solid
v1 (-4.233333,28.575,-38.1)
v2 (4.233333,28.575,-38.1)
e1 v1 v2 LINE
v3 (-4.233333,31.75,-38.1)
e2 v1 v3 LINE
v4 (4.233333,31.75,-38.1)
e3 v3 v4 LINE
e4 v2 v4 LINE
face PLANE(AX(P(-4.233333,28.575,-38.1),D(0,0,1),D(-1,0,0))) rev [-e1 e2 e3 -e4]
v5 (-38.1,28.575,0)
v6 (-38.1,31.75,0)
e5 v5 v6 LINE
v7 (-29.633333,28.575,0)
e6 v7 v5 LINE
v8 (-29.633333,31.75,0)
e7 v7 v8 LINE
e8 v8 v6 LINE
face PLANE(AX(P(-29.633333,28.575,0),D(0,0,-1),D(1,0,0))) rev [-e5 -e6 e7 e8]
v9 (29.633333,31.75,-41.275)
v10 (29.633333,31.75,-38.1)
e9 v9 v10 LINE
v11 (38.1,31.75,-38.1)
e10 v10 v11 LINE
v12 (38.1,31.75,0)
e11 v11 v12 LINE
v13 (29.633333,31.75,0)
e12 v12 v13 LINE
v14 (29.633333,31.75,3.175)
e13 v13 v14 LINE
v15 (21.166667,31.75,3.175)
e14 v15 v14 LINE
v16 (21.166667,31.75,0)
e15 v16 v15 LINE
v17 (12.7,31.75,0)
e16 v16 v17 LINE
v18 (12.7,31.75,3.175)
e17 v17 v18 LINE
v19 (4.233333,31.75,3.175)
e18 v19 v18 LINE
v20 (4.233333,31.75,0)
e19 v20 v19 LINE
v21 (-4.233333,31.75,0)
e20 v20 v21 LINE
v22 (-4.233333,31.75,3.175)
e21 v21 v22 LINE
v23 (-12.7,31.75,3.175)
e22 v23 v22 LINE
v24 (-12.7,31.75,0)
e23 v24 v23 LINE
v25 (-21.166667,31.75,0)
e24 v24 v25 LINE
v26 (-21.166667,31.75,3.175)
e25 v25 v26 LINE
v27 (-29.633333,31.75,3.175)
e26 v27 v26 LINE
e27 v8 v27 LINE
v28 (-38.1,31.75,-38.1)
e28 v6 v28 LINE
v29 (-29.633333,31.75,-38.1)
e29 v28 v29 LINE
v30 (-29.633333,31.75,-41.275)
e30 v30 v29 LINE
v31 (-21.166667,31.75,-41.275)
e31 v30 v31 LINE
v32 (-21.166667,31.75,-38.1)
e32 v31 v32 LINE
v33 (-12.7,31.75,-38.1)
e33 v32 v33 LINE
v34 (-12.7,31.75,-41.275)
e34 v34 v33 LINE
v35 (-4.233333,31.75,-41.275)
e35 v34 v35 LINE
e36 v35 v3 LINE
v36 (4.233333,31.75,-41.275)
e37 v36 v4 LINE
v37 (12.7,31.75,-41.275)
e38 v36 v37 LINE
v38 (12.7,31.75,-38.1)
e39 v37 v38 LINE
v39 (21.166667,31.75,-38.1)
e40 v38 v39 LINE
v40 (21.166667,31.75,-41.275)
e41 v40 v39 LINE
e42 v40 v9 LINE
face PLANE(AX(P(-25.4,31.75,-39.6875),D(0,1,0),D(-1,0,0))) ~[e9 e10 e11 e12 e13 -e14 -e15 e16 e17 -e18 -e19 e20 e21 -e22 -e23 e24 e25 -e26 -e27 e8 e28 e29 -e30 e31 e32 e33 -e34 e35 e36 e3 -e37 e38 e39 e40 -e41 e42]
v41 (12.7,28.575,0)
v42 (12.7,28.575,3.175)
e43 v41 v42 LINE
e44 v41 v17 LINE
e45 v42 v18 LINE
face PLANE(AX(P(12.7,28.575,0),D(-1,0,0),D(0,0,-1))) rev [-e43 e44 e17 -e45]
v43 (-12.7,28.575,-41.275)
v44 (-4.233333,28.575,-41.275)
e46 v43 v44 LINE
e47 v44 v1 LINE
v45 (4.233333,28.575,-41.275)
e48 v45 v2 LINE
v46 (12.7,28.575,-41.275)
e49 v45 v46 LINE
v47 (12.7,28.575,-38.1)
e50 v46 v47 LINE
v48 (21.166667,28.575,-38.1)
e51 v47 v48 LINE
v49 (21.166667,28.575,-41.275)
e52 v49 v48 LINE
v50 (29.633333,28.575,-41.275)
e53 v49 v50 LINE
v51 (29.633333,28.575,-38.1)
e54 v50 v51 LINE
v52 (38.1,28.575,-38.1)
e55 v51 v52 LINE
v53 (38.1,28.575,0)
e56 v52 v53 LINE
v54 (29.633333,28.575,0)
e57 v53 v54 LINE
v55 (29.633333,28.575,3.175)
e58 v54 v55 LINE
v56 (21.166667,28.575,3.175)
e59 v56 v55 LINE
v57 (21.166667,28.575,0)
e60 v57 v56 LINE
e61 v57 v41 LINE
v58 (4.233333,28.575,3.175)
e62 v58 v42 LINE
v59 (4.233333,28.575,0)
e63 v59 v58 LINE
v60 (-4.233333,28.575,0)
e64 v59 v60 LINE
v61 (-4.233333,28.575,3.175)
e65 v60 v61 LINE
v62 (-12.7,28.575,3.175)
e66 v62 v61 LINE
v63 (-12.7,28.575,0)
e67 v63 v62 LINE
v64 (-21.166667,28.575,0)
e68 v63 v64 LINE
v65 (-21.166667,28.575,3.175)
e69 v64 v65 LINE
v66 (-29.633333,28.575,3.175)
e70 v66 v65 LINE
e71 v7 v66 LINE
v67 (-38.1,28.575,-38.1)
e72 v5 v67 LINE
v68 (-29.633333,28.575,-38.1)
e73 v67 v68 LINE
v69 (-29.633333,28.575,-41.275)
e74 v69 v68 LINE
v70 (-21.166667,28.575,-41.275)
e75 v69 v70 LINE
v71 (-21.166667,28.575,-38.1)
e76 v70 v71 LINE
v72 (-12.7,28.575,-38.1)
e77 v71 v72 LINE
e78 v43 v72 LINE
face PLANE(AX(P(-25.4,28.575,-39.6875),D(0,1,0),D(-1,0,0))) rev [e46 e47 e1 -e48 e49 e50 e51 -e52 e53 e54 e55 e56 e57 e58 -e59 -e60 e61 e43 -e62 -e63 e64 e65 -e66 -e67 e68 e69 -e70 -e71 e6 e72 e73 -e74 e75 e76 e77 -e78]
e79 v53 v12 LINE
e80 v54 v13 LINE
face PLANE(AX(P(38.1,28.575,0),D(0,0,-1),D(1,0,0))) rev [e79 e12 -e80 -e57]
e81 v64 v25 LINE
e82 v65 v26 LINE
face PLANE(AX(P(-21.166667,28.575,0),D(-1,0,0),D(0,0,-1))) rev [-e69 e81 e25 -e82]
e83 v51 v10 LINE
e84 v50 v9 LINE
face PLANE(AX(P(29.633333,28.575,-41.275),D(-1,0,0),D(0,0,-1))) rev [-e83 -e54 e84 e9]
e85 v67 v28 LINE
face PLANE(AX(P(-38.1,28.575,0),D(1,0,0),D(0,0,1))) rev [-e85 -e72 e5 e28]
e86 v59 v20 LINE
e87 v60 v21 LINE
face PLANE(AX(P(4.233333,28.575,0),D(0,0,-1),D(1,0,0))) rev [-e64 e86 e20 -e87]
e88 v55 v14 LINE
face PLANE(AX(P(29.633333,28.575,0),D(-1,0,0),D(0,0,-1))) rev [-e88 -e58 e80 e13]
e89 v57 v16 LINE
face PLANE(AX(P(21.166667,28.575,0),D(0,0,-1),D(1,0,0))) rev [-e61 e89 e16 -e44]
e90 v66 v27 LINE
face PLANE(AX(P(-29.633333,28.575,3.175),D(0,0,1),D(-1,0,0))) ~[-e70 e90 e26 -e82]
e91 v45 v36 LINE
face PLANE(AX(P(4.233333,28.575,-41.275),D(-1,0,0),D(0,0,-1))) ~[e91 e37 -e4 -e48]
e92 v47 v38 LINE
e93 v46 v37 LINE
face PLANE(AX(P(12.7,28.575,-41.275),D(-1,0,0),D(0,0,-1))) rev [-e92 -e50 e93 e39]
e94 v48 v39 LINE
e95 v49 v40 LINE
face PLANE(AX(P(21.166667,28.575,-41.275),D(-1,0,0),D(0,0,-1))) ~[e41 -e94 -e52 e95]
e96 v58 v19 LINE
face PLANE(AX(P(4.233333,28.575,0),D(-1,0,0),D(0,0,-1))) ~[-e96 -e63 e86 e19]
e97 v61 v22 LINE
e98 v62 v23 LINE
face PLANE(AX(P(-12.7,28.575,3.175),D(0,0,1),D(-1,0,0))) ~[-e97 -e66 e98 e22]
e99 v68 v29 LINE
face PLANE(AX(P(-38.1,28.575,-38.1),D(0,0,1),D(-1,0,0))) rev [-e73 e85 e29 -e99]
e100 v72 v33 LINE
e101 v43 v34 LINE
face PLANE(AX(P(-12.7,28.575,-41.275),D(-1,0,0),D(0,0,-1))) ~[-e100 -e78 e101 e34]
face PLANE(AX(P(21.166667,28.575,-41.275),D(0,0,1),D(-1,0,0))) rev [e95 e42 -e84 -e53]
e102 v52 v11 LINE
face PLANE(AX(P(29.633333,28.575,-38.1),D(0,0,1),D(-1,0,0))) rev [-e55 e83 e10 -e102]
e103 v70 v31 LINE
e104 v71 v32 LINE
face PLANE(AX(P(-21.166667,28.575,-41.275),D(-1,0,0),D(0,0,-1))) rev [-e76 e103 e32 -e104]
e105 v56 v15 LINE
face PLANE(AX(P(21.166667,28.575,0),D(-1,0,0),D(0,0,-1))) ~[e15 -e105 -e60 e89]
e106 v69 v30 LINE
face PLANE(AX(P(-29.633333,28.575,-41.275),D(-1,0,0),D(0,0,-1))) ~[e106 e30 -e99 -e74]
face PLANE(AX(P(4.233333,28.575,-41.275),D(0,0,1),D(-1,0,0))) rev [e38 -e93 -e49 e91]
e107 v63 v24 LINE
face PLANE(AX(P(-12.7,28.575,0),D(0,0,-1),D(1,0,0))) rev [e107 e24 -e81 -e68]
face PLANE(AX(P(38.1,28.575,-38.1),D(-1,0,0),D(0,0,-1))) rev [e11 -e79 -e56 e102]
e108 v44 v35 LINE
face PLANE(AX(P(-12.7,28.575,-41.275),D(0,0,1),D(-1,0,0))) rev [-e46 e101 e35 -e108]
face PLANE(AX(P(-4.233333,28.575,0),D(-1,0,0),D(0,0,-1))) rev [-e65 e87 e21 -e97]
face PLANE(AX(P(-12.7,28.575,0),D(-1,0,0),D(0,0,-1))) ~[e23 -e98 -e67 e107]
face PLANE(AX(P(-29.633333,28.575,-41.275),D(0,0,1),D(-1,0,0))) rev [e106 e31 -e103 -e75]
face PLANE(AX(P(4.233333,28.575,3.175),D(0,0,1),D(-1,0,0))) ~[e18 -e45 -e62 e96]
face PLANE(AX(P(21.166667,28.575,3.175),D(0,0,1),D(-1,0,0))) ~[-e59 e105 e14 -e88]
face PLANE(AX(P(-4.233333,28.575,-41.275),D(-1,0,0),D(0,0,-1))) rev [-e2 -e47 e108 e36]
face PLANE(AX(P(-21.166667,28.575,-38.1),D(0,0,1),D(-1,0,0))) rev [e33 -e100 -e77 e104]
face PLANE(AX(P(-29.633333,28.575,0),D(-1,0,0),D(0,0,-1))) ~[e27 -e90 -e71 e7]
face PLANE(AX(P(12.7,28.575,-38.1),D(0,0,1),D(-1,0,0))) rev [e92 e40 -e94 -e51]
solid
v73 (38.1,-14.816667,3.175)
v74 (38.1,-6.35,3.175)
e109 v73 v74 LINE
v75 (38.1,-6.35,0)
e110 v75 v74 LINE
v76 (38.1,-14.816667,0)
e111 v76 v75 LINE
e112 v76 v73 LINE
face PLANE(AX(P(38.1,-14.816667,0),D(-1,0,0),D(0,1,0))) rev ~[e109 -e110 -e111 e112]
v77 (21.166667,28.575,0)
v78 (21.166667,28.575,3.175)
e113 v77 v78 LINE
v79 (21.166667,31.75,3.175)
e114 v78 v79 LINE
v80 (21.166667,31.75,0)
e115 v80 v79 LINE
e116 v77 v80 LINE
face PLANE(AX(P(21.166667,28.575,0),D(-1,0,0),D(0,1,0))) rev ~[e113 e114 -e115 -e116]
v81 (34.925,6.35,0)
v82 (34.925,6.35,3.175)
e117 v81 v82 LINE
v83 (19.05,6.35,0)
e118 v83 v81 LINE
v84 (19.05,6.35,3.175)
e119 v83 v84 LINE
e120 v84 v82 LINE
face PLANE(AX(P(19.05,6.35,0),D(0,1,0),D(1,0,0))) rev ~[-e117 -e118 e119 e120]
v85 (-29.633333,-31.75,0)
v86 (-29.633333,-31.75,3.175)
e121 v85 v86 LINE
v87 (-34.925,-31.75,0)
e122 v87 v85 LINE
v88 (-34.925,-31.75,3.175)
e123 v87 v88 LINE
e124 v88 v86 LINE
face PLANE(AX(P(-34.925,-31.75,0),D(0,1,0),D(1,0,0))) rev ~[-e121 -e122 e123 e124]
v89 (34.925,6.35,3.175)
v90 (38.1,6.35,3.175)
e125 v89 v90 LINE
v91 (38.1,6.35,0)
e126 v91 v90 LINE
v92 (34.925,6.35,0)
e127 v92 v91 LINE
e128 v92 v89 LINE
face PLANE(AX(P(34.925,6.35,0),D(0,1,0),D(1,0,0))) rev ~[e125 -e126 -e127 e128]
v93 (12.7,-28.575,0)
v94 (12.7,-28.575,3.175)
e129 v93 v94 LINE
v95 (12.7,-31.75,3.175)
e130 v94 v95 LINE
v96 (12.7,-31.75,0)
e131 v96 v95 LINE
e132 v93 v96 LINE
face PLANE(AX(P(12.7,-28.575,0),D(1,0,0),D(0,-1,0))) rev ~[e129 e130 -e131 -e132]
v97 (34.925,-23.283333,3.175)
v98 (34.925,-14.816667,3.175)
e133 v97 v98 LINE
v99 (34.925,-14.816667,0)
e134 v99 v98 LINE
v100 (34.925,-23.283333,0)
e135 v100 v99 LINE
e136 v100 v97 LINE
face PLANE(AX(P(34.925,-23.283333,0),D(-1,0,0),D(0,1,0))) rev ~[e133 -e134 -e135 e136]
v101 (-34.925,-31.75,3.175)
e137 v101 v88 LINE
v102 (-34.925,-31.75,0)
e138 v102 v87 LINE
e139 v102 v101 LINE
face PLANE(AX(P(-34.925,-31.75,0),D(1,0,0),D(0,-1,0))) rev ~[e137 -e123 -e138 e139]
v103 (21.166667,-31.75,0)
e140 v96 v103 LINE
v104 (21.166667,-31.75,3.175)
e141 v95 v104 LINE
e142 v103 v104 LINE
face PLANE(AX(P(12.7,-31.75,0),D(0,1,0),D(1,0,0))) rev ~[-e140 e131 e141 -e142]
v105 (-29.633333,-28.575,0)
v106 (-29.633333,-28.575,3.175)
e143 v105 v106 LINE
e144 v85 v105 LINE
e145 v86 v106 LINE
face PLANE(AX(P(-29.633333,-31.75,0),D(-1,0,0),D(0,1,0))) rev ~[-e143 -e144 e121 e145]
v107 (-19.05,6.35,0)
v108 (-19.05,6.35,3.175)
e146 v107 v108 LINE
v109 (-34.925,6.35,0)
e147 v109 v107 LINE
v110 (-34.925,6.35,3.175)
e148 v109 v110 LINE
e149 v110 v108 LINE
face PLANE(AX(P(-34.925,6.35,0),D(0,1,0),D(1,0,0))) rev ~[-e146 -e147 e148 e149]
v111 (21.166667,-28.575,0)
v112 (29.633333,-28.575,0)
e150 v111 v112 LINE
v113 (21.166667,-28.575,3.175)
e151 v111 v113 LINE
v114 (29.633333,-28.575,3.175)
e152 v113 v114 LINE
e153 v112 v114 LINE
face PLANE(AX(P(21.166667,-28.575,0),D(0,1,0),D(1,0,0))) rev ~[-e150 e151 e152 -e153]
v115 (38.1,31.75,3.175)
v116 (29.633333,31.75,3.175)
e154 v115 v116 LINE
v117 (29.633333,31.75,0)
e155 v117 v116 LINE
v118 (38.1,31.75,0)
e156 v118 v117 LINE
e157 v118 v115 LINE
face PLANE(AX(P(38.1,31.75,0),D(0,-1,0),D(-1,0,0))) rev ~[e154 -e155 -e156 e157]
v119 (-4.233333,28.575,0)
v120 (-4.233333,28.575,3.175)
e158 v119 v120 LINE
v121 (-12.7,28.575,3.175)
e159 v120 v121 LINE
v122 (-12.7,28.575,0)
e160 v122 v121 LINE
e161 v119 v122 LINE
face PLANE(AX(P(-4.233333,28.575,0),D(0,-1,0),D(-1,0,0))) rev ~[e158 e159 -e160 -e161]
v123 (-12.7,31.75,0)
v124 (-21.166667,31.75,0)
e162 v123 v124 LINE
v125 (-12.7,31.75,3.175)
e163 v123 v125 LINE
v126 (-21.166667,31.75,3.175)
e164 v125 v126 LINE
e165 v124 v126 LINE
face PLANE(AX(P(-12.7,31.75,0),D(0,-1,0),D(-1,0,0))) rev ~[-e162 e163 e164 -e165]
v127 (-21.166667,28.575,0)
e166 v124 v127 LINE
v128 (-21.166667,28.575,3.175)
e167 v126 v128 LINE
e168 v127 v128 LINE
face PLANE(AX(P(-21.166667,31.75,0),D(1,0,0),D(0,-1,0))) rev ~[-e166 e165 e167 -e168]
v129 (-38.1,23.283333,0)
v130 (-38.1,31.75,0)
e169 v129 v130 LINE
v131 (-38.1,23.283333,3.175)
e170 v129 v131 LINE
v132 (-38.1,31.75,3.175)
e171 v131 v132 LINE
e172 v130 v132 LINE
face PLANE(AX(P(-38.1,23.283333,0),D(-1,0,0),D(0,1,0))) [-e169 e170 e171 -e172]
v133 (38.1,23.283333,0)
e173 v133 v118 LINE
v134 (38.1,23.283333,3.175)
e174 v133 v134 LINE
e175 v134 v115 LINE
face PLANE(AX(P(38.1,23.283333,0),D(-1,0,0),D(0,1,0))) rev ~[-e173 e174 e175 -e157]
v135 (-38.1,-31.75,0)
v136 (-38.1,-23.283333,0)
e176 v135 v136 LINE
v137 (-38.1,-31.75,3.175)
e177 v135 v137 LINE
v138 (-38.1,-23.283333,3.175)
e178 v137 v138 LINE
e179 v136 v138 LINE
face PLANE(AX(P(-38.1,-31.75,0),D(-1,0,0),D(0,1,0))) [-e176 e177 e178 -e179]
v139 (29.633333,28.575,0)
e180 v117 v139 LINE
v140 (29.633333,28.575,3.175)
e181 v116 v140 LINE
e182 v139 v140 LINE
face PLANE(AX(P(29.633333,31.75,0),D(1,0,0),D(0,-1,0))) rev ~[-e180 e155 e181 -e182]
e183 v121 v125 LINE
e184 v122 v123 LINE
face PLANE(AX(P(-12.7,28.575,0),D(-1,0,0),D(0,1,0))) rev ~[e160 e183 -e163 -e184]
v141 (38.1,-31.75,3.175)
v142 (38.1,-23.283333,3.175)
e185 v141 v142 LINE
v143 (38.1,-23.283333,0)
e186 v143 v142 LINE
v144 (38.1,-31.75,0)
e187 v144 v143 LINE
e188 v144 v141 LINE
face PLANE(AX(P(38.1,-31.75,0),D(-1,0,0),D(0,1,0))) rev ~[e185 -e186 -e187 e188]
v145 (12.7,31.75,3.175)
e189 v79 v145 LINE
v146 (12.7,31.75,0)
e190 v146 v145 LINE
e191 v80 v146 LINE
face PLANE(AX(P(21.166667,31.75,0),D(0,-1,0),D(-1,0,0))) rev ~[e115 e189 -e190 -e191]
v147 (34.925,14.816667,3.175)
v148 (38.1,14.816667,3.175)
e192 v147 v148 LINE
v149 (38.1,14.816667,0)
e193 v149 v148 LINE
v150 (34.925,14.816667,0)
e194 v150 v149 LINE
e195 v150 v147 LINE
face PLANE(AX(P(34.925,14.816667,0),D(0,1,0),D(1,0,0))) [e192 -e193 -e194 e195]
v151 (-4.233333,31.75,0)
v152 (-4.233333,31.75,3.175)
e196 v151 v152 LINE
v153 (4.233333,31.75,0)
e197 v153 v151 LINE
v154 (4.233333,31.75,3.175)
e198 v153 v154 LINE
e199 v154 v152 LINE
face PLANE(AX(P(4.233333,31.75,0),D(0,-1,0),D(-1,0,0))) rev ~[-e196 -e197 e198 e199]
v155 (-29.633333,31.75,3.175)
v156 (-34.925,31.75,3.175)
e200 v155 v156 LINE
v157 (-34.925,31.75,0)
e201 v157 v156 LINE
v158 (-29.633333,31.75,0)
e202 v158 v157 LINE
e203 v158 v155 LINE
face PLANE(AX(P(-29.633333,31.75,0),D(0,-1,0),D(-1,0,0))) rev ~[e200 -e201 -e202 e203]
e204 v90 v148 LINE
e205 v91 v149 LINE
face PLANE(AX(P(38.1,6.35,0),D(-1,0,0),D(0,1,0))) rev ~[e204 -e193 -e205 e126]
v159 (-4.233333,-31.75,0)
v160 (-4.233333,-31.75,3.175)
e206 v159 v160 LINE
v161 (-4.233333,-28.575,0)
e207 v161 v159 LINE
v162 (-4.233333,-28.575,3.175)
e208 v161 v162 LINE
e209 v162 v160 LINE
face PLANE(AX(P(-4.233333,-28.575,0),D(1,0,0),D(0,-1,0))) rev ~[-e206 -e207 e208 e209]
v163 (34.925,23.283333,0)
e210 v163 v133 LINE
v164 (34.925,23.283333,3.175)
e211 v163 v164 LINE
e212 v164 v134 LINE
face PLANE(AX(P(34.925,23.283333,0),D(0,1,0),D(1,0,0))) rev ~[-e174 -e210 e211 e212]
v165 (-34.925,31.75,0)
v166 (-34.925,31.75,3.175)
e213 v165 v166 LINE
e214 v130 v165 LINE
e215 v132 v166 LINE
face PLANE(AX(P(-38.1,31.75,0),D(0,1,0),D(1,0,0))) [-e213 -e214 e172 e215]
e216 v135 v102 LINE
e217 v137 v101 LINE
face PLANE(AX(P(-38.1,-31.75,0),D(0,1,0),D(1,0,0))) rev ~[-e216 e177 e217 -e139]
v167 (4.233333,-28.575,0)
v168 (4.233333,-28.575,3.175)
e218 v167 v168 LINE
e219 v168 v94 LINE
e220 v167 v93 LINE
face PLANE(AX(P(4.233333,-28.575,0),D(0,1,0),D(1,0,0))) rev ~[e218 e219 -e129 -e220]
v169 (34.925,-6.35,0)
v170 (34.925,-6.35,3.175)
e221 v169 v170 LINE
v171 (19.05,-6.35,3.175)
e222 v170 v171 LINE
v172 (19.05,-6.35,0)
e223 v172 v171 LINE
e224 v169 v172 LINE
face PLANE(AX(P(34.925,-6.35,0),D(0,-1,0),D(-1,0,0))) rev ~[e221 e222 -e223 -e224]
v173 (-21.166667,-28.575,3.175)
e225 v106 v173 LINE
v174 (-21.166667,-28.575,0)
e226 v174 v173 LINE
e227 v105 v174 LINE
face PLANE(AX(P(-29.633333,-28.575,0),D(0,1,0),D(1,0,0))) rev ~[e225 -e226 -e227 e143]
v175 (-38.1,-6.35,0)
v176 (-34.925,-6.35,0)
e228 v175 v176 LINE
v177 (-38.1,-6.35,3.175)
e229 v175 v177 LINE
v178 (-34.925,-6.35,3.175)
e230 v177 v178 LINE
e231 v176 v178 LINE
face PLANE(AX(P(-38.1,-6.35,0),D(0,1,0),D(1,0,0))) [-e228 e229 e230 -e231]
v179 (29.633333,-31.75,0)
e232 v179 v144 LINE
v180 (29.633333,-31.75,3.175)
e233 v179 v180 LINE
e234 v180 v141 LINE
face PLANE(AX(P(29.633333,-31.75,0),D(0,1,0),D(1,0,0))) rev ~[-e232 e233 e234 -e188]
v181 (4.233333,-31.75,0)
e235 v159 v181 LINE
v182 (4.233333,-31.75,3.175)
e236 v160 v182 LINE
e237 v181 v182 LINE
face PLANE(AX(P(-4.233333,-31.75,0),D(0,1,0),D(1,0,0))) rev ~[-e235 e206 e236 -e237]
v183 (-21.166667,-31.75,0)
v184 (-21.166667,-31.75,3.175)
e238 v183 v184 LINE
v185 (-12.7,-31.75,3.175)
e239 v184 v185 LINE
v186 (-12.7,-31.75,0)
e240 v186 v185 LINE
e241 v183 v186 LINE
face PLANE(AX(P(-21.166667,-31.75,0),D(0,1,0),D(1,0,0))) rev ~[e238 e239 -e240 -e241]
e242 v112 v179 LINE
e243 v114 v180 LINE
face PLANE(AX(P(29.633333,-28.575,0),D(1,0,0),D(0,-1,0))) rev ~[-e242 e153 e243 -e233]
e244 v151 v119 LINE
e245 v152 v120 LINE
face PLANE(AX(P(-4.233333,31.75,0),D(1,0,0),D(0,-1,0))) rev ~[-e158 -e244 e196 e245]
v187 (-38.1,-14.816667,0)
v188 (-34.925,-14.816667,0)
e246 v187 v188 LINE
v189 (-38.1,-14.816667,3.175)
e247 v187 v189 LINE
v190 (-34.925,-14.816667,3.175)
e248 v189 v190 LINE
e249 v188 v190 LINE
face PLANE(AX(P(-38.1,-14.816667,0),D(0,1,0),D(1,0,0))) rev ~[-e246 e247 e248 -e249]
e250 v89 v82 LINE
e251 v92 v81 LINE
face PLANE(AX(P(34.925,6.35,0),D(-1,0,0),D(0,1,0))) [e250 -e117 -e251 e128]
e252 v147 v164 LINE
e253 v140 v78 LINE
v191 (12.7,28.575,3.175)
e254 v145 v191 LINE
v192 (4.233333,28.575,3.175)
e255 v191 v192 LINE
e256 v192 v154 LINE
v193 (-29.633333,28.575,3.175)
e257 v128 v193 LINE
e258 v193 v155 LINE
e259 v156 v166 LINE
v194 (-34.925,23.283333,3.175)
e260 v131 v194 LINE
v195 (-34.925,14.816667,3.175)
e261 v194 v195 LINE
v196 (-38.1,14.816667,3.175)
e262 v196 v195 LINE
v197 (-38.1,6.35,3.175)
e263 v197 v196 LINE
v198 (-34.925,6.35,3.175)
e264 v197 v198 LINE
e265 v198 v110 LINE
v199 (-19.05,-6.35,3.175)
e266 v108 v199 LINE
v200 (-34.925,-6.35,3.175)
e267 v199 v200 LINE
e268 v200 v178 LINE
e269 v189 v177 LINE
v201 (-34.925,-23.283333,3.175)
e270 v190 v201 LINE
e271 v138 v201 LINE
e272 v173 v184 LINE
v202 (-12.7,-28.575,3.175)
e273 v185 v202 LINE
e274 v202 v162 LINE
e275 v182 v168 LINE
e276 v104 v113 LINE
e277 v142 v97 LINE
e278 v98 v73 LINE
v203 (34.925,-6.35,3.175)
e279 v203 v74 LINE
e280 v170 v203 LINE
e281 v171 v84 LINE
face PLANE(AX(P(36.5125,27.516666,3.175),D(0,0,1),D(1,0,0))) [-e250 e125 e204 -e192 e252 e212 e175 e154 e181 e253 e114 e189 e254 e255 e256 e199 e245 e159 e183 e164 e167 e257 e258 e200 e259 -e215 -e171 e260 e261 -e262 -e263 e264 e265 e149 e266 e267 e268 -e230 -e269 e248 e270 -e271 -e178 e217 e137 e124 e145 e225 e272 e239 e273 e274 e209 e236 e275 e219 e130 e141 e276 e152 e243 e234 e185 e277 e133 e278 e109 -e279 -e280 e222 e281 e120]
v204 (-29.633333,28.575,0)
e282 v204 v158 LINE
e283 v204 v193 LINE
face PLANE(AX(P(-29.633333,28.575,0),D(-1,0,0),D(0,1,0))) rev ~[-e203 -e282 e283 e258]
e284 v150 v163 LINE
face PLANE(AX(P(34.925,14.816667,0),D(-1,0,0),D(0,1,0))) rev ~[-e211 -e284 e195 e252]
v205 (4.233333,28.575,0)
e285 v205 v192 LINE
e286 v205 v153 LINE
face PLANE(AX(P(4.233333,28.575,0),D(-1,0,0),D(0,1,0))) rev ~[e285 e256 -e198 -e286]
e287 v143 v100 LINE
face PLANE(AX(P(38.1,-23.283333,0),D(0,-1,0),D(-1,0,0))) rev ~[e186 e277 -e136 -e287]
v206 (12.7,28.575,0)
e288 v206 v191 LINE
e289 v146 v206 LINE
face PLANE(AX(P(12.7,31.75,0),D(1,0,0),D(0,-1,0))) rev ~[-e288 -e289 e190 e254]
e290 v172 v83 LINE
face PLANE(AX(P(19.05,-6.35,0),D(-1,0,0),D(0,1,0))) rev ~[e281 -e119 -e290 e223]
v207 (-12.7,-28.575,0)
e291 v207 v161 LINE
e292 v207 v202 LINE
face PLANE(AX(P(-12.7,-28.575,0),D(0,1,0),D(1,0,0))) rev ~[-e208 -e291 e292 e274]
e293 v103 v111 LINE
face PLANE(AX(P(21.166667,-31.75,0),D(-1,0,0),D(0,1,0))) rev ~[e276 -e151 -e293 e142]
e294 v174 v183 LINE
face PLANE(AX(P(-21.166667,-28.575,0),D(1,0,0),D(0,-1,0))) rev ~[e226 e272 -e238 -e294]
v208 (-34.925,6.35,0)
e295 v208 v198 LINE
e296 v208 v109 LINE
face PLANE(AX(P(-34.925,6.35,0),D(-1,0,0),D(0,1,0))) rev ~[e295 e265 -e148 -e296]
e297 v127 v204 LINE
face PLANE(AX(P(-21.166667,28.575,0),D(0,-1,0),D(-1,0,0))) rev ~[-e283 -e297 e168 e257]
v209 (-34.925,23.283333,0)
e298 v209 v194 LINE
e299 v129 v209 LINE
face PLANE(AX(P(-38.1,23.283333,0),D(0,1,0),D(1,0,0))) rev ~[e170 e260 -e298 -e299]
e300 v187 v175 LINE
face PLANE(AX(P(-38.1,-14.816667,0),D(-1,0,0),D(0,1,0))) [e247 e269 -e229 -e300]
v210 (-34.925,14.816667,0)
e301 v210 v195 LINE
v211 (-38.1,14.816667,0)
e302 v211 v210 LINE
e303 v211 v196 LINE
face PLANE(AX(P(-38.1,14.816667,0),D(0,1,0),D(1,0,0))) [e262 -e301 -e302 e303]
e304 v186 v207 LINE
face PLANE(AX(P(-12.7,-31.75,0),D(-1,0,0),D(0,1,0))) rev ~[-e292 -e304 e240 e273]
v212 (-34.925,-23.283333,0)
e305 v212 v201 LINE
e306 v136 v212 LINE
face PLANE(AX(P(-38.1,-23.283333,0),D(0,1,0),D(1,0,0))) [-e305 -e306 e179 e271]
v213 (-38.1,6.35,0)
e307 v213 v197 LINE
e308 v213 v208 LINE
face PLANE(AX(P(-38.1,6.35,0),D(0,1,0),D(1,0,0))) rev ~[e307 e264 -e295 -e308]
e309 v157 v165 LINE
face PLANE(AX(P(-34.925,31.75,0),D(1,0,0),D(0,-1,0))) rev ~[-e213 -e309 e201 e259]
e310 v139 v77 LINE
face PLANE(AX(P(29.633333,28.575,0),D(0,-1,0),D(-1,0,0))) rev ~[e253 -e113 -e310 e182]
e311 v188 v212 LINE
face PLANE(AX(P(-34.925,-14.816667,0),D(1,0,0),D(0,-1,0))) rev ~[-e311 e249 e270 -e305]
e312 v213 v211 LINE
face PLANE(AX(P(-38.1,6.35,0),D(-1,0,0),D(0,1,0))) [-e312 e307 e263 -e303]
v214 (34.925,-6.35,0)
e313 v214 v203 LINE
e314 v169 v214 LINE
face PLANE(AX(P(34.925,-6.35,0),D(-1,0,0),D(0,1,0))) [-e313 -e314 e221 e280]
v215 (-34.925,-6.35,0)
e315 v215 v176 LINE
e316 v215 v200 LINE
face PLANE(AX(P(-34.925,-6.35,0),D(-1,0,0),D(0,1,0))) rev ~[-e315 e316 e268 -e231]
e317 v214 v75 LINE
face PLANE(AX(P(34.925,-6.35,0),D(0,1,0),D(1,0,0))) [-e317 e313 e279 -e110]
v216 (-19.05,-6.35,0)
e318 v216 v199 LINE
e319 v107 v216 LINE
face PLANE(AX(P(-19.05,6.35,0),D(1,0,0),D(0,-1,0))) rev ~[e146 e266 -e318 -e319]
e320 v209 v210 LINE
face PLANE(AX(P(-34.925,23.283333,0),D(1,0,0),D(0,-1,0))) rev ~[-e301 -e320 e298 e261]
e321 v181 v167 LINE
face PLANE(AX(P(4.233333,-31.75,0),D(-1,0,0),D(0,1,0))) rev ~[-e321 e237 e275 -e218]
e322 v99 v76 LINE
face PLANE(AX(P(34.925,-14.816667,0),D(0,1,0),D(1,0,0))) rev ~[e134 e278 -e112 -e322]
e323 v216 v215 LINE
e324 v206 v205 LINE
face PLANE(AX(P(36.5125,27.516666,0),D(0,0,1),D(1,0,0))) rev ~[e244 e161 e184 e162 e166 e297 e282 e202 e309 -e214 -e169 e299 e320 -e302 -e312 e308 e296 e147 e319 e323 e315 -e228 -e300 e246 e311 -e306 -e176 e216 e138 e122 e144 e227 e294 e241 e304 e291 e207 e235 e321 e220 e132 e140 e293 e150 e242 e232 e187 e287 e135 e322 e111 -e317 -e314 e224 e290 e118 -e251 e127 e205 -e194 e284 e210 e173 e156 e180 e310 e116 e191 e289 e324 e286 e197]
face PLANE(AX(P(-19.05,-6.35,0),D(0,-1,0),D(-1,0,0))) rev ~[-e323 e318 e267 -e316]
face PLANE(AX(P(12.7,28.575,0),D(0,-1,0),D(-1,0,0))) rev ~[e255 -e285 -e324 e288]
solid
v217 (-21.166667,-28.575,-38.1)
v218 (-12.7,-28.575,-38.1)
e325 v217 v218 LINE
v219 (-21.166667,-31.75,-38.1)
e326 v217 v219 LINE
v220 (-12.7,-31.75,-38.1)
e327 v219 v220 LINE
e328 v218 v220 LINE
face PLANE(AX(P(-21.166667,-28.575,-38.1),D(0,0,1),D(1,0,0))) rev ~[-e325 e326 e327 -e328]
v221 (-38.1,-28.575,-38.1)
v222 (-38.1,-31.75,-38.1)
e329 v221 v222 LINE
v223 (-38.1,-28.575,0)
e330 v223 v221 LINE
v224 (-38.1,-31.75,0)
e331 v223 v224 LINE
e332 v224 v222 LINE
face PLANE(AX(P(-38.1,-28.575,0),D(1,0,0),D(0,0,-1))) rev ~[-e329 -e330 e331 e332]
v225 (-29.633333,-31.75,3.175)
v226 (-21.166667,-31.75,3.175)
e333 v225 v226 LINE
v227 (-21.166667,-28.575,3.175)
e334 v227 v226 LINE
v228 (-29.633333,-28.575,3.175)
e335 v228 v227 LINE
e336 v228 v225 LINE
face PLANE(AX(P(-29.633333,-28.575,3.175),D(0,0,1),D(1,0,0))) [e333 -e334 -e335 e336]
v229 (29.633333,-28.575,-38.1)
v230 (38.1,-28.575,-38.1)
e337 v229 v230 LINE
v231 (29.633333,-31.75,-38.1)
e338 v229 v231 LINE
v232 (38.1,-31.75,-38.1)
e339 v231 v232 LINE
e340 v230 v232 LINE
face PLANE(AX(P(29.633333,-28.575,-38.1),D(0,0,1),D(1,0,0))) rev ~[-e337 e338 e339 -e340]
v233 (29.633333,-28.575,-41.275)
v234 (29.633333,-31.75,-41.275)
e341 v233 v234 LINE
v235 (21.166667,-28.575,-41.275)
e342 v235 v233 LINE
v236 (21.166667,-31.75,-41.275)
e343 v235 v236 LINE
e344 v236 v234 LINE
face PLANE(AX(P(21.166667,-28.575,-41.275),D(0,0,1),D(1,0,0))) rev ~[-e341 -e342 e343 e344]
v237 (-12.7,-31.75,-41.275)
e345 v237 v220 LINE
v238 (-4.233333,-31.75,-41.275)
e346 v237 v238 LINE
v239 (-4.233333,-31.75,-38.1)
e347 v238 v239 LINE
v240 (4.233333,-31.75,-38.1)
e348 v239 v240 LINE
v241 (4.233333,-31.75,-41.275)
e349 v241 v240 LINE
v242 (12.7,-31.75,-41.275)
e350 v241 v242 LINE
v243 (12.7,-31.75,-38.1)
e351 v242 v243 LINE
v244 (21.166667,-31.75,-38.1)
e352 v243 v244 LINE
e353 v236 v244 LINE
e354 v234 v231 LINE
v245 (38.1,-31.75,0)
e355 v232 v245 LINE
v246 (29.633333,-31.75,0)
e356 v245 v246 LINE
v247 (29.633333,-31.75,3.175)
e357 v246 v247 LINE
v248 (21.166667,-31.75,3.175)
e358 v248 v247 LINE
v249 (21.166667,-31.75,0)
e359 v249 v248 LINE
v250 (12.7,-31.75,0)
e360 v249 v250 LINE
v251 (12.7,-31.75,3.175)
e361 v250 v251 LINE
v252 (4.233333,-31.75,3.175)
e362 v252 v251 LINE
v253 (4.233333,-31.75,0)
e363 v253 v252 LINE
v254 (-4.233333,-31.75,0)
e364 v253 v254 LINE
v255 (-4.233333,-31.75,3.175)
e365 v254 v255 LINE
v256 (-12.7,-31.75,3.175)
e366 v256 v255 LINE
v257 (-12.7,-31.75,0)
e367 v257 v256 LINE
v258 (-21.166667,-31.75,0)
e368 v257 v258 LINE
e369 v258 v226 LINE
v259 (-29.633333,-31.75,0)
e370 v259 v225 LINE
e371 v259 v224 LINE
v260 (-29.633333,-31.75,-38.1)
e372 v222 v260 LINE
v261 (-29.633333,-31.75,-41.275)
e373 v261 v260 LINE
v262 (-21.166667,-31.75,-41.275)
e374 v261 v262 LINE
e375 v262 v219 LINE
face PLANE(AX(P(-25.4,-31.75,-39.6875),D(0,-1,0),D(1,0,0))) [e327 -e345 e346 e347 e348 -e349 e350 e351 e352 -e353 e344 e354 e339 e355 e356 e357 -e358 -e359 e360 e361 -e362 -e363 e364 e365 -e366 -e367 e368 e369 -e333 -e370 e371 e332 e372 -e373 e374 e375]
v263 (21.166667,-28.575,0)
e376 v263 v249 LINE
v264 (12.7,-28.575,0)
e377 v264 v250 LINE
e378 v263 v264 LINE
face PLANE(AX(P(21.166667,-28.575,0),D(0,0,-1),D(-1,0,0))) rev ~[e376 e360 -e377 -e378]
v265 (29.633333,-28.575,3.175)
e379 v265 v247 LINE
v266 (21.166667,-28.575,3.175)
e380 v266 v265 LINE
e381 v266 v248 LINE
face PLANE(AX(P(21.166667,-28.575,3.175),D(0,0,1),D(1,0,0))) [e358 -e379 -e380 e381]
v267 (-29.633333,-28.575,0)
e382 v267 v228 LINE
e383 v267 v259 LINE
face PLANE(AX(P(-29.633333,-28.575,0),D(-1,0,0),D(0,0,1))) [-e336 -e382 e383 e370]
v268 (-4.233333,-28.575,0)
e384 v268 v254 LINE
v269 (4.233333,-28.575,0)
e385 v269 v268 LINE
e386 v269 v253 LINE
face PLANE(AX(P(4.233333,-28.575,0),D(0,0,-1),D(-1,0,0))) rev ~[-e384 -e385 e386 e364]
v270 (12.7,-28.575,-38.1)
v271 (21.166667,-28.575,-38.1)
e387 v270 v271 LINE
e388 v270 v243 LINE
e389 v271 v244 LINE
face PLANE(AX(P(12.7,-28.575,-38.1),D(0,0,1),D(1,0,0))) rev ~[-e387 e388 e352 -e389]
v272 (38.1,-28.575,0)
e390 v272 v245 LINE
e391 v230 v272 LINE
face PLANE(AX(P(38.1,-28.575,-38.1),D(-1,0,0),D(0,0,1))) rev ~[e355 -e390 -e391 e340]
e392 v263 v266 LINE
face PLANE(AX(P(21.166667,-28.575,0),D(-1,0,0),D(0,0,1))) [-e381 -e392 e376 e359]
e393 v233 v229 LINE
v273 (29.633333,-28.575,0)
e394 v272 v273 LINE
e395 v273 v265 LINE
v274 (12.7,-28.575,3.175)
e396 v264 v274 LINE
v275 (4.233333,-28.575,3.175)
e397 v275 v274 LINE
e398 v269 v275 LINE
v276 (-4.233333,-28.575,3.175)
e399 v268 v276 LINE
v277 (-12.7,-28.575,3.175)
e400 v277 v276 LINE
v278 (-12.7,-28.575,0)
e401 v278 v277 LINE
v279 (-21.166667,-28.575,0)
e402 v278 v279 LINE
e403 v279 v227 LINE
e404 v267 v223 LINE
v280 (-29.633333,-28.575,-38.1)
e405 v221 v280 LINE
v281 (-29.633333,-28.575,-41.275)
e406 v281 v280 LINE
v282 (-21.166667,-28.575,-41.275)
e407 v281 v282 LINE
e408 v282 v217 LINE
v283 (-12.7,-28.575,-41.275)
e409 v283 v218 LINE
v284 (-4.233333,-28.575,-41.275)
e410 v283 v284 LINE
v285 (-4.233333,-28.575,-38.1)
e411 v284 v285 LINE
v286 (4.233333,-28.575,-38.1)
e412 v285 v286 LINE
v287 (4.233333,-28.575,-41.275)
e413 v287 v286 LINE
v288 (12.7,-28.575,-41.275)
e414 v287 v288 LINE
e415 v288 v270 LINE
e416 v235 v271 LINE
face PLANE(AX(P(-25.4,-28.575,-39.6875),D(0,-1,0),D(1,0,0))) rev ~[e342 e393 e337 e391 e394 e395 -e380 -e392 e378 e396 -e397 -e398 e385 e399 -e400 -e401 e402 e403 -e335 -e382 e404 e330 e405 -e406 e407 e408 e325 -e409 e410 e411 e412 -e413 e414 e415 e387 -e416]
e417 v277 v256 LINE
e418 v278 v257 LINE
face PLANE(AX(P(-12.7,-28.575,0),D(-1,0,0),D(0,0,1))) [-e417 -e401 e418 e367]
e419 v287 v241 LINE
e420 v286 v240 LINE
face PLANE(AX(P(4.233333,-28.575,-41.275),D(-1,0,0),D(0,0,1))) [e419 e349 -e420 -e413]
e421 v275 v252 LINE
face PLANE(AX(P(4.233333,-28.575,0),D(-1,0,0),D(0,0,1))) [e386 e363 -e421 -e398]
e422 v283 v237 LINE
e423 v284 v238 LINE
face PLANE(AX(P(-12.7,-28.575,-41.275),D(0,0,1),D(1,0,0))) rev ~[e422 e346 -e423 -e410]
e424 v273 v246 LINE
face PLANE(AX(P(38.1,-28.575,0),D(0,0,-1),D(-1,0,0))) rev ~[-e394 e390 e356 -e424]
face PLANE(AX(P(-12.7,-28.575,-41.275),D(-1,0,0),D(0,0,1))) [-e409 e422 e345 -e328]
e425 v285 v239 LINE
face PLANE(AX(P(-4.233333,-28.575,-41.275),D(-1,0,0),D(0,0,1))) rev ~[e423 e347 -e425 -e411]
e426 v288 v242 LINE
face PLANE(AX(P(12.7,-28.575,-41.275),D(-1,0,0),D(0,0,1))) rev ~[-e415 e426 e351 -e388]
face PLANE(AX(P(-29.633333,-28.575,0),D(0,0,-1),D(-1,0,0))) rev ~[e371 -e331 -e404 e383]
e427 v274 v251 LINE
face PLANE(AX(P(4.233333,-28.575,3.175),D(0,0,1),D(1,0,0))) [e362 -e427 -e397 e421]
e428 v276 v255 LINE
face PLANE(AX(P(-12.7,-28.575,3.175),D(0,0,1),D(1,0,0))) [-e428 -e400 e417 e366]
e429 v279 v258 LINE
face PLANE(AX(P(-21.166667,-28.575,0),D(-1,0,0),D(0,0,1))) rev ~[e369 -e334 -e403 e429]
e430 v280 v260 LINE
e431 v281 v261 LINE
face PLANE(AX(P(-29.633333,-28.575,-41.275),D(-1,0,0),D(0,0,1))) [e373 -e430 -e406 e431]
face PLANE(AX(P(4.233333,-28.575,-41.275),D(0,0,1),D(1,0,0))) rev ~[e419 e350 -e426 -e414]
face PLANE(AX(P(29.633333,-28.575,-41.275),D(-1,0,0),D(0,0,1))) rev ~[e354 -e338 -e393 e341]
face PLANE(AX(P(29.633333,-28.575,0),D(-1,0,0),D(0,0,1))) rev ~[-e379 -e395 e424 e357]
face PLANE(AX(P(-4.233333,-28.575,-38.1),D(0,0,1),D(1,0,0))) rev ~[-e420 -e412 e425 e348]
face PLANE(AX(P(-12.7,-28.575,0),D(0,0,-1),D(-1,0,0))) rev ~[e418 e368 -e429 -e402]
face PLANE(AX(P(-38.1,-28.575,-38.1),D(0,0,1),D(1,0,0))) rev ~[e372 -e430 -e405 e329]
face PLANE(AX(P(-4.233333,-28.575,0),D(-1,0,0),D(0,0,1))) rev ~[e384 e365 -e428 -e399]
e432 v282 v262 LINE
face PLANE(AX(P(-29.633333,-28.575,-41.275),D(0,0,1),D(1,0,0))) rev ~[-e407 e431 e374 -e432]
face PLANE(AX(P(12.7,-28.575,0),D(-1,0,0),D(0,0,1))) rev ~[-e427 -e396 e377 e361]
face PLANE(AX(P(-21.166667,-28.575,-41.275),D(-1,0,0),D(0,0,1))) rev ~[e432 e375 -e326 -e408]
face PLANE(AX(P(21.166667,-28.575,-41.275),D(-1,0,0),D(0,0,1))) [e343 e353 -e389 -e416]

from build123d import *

# Parameters (mm, degrees)
F0_W     = 3.175
F0_H     = 8.466667
F1_DEPTH = 3.175
F2_W     = 8.466666
F2_H     = 3.175
F2_W_2   = 8.466667
F3_DEPTH = 3.175


with BuildPart() as f1:
    # F0 (on Top) → F1 (new body)
    with BuildSketch(Plane.XY):
        Polygon((38.1, 28.575), (38.1, 31.75), (34.925, 31.75), (34.925, 23.283333), (38.1, 23.283333), align=None)
        Polygon((34.925, 23.283333), (34.925, 31.75), (29.633333, 31.75), (29.633333, 28.575), (21.166667, 28.575), (21.166667, 31.75), (12.7, 31.75), (12.7, 28.575), (4.233333, 28.575), (4.233333, 31.75), (-4.233333, 31.75), (-4.233333, 28.575), (-12.7, 28.575), (-12.7, 31.75), (-21.166667, 31.75), (-21.166667, 28.575), (-29.633333, 28.575), (-29.633333, 31.75), (-34.925, 31.75), (-34.925, 23.283333), (-34.925, 14.816667), (-34.925, 6.35), (-19.05, 6.35), (-19.05, -6.35), (-34.925, -6.35), (-34.925, -14.816667), (-34.925, -23.283333), (-34.925, -31.75), (-29.633333, -31.75), (-29.633333, -28.575), (-21.166667, -28.575), (-21.166667, -31.75), (-12.7, -31.75), (-12.7, -28.575), (-4.233333, -28.575), (-4.233333, -31.75), (4.233333, -31.75), (4.233333, -28.575), (12.7, -28.575), (12.7, -31.75), (21.166667, -31.75), (21.166667, -28.575), (29.633333, -28.575), (29.633333, -31.75), (34.925, -31.75), (34.925, -23.283333), (34.925, -14.816667), (34.925, -6.35), (19.05, -6.35), (19.05, 6.35), (34.925, 6.35), (34.925, 14.816667), align=None)
        with Locations((36.5125, 10.583333)):
            Rectangle(F0_W, F0_H)
        with Locations((36.5125, -10.583333)):
            Rectangle(F0_W, F0_H)
        Polygon((38.1, -23.283333), (34.925, -23.283333), (34.925, -31.75), (38.1, -31.75), (38.1, -28.575), align=None)
        with Locations((-36.5125, 27.516666)):
            Rectangle(F0_W, F0_H)
        with Locations((-36.5125, 10.583333)):
            Rectangle(F0_W, F0_H)
        with Locations((-36.5125, -10.583333)):
            Rectangle(F0_W, F0_H)
        with Locations((-36.5125, -27.516666)):
            Rectangle(F0_W, F0_H)
    extrude(amount=F1_DEPTH)


with BuildPart() as f3:
    # F2 (on face) → F3 (new body)
    with BuildSketch(Plane.XZ.offset(28.575)):
        with Locations((-25.4, -39.6875)):
            Rectangle(F2_W, F2_H)
        with Locations((-25.4, 1.5875)):
            Rectangle(F2_W, F2_H)
        with Locations((-8.466666, 1.5875)):
            Rectangle(F2_W_2, F2_H)
        with Locations((8.466666, 1.5875)):
            Rectangle(F2_W_2, F2_H)
        with Locations((25.4, 1.5875)):
            Rectangle(F2_W, F2_H)
        Polygon((-21.166667, 0), (-29.633333, 0), (-38.1, 0), (-38.1, -38.1), (-29.633333, -38.1), (-21.166667, -38.1), (-12.7, -38.1), (-4.233333, -38.1), (4.233333, -38.1), (12.7, -38.1), (21.166667, -38.1), (29.633333, -38.1), (38.1, -38.1), (38.1, 0), (29.633333, 0), (21.166667, 0), (12.7, 0), (4.233333, 0), (-4.233333, 0), (-12.7, 0), align=None)
        with Locations((-8.466666, -39.6875)):
            Rectangle(F2_W_2, F2_H)
        with Locations((8.466666, -39.6875)):
            Rectangle(F2_W_2, F2_H)
        with Locations((25.4, -39.6875)):
            Rectangle(F2_W, F2_H)
    extrude(amount=F3_DEPTH)


with BuildPart() as f4_1:
    # F4: instance of F3
    add(f3.part.mirror(Plane.XZ))


solid = Compound([f1.part, f3.part, f4_1.part])
